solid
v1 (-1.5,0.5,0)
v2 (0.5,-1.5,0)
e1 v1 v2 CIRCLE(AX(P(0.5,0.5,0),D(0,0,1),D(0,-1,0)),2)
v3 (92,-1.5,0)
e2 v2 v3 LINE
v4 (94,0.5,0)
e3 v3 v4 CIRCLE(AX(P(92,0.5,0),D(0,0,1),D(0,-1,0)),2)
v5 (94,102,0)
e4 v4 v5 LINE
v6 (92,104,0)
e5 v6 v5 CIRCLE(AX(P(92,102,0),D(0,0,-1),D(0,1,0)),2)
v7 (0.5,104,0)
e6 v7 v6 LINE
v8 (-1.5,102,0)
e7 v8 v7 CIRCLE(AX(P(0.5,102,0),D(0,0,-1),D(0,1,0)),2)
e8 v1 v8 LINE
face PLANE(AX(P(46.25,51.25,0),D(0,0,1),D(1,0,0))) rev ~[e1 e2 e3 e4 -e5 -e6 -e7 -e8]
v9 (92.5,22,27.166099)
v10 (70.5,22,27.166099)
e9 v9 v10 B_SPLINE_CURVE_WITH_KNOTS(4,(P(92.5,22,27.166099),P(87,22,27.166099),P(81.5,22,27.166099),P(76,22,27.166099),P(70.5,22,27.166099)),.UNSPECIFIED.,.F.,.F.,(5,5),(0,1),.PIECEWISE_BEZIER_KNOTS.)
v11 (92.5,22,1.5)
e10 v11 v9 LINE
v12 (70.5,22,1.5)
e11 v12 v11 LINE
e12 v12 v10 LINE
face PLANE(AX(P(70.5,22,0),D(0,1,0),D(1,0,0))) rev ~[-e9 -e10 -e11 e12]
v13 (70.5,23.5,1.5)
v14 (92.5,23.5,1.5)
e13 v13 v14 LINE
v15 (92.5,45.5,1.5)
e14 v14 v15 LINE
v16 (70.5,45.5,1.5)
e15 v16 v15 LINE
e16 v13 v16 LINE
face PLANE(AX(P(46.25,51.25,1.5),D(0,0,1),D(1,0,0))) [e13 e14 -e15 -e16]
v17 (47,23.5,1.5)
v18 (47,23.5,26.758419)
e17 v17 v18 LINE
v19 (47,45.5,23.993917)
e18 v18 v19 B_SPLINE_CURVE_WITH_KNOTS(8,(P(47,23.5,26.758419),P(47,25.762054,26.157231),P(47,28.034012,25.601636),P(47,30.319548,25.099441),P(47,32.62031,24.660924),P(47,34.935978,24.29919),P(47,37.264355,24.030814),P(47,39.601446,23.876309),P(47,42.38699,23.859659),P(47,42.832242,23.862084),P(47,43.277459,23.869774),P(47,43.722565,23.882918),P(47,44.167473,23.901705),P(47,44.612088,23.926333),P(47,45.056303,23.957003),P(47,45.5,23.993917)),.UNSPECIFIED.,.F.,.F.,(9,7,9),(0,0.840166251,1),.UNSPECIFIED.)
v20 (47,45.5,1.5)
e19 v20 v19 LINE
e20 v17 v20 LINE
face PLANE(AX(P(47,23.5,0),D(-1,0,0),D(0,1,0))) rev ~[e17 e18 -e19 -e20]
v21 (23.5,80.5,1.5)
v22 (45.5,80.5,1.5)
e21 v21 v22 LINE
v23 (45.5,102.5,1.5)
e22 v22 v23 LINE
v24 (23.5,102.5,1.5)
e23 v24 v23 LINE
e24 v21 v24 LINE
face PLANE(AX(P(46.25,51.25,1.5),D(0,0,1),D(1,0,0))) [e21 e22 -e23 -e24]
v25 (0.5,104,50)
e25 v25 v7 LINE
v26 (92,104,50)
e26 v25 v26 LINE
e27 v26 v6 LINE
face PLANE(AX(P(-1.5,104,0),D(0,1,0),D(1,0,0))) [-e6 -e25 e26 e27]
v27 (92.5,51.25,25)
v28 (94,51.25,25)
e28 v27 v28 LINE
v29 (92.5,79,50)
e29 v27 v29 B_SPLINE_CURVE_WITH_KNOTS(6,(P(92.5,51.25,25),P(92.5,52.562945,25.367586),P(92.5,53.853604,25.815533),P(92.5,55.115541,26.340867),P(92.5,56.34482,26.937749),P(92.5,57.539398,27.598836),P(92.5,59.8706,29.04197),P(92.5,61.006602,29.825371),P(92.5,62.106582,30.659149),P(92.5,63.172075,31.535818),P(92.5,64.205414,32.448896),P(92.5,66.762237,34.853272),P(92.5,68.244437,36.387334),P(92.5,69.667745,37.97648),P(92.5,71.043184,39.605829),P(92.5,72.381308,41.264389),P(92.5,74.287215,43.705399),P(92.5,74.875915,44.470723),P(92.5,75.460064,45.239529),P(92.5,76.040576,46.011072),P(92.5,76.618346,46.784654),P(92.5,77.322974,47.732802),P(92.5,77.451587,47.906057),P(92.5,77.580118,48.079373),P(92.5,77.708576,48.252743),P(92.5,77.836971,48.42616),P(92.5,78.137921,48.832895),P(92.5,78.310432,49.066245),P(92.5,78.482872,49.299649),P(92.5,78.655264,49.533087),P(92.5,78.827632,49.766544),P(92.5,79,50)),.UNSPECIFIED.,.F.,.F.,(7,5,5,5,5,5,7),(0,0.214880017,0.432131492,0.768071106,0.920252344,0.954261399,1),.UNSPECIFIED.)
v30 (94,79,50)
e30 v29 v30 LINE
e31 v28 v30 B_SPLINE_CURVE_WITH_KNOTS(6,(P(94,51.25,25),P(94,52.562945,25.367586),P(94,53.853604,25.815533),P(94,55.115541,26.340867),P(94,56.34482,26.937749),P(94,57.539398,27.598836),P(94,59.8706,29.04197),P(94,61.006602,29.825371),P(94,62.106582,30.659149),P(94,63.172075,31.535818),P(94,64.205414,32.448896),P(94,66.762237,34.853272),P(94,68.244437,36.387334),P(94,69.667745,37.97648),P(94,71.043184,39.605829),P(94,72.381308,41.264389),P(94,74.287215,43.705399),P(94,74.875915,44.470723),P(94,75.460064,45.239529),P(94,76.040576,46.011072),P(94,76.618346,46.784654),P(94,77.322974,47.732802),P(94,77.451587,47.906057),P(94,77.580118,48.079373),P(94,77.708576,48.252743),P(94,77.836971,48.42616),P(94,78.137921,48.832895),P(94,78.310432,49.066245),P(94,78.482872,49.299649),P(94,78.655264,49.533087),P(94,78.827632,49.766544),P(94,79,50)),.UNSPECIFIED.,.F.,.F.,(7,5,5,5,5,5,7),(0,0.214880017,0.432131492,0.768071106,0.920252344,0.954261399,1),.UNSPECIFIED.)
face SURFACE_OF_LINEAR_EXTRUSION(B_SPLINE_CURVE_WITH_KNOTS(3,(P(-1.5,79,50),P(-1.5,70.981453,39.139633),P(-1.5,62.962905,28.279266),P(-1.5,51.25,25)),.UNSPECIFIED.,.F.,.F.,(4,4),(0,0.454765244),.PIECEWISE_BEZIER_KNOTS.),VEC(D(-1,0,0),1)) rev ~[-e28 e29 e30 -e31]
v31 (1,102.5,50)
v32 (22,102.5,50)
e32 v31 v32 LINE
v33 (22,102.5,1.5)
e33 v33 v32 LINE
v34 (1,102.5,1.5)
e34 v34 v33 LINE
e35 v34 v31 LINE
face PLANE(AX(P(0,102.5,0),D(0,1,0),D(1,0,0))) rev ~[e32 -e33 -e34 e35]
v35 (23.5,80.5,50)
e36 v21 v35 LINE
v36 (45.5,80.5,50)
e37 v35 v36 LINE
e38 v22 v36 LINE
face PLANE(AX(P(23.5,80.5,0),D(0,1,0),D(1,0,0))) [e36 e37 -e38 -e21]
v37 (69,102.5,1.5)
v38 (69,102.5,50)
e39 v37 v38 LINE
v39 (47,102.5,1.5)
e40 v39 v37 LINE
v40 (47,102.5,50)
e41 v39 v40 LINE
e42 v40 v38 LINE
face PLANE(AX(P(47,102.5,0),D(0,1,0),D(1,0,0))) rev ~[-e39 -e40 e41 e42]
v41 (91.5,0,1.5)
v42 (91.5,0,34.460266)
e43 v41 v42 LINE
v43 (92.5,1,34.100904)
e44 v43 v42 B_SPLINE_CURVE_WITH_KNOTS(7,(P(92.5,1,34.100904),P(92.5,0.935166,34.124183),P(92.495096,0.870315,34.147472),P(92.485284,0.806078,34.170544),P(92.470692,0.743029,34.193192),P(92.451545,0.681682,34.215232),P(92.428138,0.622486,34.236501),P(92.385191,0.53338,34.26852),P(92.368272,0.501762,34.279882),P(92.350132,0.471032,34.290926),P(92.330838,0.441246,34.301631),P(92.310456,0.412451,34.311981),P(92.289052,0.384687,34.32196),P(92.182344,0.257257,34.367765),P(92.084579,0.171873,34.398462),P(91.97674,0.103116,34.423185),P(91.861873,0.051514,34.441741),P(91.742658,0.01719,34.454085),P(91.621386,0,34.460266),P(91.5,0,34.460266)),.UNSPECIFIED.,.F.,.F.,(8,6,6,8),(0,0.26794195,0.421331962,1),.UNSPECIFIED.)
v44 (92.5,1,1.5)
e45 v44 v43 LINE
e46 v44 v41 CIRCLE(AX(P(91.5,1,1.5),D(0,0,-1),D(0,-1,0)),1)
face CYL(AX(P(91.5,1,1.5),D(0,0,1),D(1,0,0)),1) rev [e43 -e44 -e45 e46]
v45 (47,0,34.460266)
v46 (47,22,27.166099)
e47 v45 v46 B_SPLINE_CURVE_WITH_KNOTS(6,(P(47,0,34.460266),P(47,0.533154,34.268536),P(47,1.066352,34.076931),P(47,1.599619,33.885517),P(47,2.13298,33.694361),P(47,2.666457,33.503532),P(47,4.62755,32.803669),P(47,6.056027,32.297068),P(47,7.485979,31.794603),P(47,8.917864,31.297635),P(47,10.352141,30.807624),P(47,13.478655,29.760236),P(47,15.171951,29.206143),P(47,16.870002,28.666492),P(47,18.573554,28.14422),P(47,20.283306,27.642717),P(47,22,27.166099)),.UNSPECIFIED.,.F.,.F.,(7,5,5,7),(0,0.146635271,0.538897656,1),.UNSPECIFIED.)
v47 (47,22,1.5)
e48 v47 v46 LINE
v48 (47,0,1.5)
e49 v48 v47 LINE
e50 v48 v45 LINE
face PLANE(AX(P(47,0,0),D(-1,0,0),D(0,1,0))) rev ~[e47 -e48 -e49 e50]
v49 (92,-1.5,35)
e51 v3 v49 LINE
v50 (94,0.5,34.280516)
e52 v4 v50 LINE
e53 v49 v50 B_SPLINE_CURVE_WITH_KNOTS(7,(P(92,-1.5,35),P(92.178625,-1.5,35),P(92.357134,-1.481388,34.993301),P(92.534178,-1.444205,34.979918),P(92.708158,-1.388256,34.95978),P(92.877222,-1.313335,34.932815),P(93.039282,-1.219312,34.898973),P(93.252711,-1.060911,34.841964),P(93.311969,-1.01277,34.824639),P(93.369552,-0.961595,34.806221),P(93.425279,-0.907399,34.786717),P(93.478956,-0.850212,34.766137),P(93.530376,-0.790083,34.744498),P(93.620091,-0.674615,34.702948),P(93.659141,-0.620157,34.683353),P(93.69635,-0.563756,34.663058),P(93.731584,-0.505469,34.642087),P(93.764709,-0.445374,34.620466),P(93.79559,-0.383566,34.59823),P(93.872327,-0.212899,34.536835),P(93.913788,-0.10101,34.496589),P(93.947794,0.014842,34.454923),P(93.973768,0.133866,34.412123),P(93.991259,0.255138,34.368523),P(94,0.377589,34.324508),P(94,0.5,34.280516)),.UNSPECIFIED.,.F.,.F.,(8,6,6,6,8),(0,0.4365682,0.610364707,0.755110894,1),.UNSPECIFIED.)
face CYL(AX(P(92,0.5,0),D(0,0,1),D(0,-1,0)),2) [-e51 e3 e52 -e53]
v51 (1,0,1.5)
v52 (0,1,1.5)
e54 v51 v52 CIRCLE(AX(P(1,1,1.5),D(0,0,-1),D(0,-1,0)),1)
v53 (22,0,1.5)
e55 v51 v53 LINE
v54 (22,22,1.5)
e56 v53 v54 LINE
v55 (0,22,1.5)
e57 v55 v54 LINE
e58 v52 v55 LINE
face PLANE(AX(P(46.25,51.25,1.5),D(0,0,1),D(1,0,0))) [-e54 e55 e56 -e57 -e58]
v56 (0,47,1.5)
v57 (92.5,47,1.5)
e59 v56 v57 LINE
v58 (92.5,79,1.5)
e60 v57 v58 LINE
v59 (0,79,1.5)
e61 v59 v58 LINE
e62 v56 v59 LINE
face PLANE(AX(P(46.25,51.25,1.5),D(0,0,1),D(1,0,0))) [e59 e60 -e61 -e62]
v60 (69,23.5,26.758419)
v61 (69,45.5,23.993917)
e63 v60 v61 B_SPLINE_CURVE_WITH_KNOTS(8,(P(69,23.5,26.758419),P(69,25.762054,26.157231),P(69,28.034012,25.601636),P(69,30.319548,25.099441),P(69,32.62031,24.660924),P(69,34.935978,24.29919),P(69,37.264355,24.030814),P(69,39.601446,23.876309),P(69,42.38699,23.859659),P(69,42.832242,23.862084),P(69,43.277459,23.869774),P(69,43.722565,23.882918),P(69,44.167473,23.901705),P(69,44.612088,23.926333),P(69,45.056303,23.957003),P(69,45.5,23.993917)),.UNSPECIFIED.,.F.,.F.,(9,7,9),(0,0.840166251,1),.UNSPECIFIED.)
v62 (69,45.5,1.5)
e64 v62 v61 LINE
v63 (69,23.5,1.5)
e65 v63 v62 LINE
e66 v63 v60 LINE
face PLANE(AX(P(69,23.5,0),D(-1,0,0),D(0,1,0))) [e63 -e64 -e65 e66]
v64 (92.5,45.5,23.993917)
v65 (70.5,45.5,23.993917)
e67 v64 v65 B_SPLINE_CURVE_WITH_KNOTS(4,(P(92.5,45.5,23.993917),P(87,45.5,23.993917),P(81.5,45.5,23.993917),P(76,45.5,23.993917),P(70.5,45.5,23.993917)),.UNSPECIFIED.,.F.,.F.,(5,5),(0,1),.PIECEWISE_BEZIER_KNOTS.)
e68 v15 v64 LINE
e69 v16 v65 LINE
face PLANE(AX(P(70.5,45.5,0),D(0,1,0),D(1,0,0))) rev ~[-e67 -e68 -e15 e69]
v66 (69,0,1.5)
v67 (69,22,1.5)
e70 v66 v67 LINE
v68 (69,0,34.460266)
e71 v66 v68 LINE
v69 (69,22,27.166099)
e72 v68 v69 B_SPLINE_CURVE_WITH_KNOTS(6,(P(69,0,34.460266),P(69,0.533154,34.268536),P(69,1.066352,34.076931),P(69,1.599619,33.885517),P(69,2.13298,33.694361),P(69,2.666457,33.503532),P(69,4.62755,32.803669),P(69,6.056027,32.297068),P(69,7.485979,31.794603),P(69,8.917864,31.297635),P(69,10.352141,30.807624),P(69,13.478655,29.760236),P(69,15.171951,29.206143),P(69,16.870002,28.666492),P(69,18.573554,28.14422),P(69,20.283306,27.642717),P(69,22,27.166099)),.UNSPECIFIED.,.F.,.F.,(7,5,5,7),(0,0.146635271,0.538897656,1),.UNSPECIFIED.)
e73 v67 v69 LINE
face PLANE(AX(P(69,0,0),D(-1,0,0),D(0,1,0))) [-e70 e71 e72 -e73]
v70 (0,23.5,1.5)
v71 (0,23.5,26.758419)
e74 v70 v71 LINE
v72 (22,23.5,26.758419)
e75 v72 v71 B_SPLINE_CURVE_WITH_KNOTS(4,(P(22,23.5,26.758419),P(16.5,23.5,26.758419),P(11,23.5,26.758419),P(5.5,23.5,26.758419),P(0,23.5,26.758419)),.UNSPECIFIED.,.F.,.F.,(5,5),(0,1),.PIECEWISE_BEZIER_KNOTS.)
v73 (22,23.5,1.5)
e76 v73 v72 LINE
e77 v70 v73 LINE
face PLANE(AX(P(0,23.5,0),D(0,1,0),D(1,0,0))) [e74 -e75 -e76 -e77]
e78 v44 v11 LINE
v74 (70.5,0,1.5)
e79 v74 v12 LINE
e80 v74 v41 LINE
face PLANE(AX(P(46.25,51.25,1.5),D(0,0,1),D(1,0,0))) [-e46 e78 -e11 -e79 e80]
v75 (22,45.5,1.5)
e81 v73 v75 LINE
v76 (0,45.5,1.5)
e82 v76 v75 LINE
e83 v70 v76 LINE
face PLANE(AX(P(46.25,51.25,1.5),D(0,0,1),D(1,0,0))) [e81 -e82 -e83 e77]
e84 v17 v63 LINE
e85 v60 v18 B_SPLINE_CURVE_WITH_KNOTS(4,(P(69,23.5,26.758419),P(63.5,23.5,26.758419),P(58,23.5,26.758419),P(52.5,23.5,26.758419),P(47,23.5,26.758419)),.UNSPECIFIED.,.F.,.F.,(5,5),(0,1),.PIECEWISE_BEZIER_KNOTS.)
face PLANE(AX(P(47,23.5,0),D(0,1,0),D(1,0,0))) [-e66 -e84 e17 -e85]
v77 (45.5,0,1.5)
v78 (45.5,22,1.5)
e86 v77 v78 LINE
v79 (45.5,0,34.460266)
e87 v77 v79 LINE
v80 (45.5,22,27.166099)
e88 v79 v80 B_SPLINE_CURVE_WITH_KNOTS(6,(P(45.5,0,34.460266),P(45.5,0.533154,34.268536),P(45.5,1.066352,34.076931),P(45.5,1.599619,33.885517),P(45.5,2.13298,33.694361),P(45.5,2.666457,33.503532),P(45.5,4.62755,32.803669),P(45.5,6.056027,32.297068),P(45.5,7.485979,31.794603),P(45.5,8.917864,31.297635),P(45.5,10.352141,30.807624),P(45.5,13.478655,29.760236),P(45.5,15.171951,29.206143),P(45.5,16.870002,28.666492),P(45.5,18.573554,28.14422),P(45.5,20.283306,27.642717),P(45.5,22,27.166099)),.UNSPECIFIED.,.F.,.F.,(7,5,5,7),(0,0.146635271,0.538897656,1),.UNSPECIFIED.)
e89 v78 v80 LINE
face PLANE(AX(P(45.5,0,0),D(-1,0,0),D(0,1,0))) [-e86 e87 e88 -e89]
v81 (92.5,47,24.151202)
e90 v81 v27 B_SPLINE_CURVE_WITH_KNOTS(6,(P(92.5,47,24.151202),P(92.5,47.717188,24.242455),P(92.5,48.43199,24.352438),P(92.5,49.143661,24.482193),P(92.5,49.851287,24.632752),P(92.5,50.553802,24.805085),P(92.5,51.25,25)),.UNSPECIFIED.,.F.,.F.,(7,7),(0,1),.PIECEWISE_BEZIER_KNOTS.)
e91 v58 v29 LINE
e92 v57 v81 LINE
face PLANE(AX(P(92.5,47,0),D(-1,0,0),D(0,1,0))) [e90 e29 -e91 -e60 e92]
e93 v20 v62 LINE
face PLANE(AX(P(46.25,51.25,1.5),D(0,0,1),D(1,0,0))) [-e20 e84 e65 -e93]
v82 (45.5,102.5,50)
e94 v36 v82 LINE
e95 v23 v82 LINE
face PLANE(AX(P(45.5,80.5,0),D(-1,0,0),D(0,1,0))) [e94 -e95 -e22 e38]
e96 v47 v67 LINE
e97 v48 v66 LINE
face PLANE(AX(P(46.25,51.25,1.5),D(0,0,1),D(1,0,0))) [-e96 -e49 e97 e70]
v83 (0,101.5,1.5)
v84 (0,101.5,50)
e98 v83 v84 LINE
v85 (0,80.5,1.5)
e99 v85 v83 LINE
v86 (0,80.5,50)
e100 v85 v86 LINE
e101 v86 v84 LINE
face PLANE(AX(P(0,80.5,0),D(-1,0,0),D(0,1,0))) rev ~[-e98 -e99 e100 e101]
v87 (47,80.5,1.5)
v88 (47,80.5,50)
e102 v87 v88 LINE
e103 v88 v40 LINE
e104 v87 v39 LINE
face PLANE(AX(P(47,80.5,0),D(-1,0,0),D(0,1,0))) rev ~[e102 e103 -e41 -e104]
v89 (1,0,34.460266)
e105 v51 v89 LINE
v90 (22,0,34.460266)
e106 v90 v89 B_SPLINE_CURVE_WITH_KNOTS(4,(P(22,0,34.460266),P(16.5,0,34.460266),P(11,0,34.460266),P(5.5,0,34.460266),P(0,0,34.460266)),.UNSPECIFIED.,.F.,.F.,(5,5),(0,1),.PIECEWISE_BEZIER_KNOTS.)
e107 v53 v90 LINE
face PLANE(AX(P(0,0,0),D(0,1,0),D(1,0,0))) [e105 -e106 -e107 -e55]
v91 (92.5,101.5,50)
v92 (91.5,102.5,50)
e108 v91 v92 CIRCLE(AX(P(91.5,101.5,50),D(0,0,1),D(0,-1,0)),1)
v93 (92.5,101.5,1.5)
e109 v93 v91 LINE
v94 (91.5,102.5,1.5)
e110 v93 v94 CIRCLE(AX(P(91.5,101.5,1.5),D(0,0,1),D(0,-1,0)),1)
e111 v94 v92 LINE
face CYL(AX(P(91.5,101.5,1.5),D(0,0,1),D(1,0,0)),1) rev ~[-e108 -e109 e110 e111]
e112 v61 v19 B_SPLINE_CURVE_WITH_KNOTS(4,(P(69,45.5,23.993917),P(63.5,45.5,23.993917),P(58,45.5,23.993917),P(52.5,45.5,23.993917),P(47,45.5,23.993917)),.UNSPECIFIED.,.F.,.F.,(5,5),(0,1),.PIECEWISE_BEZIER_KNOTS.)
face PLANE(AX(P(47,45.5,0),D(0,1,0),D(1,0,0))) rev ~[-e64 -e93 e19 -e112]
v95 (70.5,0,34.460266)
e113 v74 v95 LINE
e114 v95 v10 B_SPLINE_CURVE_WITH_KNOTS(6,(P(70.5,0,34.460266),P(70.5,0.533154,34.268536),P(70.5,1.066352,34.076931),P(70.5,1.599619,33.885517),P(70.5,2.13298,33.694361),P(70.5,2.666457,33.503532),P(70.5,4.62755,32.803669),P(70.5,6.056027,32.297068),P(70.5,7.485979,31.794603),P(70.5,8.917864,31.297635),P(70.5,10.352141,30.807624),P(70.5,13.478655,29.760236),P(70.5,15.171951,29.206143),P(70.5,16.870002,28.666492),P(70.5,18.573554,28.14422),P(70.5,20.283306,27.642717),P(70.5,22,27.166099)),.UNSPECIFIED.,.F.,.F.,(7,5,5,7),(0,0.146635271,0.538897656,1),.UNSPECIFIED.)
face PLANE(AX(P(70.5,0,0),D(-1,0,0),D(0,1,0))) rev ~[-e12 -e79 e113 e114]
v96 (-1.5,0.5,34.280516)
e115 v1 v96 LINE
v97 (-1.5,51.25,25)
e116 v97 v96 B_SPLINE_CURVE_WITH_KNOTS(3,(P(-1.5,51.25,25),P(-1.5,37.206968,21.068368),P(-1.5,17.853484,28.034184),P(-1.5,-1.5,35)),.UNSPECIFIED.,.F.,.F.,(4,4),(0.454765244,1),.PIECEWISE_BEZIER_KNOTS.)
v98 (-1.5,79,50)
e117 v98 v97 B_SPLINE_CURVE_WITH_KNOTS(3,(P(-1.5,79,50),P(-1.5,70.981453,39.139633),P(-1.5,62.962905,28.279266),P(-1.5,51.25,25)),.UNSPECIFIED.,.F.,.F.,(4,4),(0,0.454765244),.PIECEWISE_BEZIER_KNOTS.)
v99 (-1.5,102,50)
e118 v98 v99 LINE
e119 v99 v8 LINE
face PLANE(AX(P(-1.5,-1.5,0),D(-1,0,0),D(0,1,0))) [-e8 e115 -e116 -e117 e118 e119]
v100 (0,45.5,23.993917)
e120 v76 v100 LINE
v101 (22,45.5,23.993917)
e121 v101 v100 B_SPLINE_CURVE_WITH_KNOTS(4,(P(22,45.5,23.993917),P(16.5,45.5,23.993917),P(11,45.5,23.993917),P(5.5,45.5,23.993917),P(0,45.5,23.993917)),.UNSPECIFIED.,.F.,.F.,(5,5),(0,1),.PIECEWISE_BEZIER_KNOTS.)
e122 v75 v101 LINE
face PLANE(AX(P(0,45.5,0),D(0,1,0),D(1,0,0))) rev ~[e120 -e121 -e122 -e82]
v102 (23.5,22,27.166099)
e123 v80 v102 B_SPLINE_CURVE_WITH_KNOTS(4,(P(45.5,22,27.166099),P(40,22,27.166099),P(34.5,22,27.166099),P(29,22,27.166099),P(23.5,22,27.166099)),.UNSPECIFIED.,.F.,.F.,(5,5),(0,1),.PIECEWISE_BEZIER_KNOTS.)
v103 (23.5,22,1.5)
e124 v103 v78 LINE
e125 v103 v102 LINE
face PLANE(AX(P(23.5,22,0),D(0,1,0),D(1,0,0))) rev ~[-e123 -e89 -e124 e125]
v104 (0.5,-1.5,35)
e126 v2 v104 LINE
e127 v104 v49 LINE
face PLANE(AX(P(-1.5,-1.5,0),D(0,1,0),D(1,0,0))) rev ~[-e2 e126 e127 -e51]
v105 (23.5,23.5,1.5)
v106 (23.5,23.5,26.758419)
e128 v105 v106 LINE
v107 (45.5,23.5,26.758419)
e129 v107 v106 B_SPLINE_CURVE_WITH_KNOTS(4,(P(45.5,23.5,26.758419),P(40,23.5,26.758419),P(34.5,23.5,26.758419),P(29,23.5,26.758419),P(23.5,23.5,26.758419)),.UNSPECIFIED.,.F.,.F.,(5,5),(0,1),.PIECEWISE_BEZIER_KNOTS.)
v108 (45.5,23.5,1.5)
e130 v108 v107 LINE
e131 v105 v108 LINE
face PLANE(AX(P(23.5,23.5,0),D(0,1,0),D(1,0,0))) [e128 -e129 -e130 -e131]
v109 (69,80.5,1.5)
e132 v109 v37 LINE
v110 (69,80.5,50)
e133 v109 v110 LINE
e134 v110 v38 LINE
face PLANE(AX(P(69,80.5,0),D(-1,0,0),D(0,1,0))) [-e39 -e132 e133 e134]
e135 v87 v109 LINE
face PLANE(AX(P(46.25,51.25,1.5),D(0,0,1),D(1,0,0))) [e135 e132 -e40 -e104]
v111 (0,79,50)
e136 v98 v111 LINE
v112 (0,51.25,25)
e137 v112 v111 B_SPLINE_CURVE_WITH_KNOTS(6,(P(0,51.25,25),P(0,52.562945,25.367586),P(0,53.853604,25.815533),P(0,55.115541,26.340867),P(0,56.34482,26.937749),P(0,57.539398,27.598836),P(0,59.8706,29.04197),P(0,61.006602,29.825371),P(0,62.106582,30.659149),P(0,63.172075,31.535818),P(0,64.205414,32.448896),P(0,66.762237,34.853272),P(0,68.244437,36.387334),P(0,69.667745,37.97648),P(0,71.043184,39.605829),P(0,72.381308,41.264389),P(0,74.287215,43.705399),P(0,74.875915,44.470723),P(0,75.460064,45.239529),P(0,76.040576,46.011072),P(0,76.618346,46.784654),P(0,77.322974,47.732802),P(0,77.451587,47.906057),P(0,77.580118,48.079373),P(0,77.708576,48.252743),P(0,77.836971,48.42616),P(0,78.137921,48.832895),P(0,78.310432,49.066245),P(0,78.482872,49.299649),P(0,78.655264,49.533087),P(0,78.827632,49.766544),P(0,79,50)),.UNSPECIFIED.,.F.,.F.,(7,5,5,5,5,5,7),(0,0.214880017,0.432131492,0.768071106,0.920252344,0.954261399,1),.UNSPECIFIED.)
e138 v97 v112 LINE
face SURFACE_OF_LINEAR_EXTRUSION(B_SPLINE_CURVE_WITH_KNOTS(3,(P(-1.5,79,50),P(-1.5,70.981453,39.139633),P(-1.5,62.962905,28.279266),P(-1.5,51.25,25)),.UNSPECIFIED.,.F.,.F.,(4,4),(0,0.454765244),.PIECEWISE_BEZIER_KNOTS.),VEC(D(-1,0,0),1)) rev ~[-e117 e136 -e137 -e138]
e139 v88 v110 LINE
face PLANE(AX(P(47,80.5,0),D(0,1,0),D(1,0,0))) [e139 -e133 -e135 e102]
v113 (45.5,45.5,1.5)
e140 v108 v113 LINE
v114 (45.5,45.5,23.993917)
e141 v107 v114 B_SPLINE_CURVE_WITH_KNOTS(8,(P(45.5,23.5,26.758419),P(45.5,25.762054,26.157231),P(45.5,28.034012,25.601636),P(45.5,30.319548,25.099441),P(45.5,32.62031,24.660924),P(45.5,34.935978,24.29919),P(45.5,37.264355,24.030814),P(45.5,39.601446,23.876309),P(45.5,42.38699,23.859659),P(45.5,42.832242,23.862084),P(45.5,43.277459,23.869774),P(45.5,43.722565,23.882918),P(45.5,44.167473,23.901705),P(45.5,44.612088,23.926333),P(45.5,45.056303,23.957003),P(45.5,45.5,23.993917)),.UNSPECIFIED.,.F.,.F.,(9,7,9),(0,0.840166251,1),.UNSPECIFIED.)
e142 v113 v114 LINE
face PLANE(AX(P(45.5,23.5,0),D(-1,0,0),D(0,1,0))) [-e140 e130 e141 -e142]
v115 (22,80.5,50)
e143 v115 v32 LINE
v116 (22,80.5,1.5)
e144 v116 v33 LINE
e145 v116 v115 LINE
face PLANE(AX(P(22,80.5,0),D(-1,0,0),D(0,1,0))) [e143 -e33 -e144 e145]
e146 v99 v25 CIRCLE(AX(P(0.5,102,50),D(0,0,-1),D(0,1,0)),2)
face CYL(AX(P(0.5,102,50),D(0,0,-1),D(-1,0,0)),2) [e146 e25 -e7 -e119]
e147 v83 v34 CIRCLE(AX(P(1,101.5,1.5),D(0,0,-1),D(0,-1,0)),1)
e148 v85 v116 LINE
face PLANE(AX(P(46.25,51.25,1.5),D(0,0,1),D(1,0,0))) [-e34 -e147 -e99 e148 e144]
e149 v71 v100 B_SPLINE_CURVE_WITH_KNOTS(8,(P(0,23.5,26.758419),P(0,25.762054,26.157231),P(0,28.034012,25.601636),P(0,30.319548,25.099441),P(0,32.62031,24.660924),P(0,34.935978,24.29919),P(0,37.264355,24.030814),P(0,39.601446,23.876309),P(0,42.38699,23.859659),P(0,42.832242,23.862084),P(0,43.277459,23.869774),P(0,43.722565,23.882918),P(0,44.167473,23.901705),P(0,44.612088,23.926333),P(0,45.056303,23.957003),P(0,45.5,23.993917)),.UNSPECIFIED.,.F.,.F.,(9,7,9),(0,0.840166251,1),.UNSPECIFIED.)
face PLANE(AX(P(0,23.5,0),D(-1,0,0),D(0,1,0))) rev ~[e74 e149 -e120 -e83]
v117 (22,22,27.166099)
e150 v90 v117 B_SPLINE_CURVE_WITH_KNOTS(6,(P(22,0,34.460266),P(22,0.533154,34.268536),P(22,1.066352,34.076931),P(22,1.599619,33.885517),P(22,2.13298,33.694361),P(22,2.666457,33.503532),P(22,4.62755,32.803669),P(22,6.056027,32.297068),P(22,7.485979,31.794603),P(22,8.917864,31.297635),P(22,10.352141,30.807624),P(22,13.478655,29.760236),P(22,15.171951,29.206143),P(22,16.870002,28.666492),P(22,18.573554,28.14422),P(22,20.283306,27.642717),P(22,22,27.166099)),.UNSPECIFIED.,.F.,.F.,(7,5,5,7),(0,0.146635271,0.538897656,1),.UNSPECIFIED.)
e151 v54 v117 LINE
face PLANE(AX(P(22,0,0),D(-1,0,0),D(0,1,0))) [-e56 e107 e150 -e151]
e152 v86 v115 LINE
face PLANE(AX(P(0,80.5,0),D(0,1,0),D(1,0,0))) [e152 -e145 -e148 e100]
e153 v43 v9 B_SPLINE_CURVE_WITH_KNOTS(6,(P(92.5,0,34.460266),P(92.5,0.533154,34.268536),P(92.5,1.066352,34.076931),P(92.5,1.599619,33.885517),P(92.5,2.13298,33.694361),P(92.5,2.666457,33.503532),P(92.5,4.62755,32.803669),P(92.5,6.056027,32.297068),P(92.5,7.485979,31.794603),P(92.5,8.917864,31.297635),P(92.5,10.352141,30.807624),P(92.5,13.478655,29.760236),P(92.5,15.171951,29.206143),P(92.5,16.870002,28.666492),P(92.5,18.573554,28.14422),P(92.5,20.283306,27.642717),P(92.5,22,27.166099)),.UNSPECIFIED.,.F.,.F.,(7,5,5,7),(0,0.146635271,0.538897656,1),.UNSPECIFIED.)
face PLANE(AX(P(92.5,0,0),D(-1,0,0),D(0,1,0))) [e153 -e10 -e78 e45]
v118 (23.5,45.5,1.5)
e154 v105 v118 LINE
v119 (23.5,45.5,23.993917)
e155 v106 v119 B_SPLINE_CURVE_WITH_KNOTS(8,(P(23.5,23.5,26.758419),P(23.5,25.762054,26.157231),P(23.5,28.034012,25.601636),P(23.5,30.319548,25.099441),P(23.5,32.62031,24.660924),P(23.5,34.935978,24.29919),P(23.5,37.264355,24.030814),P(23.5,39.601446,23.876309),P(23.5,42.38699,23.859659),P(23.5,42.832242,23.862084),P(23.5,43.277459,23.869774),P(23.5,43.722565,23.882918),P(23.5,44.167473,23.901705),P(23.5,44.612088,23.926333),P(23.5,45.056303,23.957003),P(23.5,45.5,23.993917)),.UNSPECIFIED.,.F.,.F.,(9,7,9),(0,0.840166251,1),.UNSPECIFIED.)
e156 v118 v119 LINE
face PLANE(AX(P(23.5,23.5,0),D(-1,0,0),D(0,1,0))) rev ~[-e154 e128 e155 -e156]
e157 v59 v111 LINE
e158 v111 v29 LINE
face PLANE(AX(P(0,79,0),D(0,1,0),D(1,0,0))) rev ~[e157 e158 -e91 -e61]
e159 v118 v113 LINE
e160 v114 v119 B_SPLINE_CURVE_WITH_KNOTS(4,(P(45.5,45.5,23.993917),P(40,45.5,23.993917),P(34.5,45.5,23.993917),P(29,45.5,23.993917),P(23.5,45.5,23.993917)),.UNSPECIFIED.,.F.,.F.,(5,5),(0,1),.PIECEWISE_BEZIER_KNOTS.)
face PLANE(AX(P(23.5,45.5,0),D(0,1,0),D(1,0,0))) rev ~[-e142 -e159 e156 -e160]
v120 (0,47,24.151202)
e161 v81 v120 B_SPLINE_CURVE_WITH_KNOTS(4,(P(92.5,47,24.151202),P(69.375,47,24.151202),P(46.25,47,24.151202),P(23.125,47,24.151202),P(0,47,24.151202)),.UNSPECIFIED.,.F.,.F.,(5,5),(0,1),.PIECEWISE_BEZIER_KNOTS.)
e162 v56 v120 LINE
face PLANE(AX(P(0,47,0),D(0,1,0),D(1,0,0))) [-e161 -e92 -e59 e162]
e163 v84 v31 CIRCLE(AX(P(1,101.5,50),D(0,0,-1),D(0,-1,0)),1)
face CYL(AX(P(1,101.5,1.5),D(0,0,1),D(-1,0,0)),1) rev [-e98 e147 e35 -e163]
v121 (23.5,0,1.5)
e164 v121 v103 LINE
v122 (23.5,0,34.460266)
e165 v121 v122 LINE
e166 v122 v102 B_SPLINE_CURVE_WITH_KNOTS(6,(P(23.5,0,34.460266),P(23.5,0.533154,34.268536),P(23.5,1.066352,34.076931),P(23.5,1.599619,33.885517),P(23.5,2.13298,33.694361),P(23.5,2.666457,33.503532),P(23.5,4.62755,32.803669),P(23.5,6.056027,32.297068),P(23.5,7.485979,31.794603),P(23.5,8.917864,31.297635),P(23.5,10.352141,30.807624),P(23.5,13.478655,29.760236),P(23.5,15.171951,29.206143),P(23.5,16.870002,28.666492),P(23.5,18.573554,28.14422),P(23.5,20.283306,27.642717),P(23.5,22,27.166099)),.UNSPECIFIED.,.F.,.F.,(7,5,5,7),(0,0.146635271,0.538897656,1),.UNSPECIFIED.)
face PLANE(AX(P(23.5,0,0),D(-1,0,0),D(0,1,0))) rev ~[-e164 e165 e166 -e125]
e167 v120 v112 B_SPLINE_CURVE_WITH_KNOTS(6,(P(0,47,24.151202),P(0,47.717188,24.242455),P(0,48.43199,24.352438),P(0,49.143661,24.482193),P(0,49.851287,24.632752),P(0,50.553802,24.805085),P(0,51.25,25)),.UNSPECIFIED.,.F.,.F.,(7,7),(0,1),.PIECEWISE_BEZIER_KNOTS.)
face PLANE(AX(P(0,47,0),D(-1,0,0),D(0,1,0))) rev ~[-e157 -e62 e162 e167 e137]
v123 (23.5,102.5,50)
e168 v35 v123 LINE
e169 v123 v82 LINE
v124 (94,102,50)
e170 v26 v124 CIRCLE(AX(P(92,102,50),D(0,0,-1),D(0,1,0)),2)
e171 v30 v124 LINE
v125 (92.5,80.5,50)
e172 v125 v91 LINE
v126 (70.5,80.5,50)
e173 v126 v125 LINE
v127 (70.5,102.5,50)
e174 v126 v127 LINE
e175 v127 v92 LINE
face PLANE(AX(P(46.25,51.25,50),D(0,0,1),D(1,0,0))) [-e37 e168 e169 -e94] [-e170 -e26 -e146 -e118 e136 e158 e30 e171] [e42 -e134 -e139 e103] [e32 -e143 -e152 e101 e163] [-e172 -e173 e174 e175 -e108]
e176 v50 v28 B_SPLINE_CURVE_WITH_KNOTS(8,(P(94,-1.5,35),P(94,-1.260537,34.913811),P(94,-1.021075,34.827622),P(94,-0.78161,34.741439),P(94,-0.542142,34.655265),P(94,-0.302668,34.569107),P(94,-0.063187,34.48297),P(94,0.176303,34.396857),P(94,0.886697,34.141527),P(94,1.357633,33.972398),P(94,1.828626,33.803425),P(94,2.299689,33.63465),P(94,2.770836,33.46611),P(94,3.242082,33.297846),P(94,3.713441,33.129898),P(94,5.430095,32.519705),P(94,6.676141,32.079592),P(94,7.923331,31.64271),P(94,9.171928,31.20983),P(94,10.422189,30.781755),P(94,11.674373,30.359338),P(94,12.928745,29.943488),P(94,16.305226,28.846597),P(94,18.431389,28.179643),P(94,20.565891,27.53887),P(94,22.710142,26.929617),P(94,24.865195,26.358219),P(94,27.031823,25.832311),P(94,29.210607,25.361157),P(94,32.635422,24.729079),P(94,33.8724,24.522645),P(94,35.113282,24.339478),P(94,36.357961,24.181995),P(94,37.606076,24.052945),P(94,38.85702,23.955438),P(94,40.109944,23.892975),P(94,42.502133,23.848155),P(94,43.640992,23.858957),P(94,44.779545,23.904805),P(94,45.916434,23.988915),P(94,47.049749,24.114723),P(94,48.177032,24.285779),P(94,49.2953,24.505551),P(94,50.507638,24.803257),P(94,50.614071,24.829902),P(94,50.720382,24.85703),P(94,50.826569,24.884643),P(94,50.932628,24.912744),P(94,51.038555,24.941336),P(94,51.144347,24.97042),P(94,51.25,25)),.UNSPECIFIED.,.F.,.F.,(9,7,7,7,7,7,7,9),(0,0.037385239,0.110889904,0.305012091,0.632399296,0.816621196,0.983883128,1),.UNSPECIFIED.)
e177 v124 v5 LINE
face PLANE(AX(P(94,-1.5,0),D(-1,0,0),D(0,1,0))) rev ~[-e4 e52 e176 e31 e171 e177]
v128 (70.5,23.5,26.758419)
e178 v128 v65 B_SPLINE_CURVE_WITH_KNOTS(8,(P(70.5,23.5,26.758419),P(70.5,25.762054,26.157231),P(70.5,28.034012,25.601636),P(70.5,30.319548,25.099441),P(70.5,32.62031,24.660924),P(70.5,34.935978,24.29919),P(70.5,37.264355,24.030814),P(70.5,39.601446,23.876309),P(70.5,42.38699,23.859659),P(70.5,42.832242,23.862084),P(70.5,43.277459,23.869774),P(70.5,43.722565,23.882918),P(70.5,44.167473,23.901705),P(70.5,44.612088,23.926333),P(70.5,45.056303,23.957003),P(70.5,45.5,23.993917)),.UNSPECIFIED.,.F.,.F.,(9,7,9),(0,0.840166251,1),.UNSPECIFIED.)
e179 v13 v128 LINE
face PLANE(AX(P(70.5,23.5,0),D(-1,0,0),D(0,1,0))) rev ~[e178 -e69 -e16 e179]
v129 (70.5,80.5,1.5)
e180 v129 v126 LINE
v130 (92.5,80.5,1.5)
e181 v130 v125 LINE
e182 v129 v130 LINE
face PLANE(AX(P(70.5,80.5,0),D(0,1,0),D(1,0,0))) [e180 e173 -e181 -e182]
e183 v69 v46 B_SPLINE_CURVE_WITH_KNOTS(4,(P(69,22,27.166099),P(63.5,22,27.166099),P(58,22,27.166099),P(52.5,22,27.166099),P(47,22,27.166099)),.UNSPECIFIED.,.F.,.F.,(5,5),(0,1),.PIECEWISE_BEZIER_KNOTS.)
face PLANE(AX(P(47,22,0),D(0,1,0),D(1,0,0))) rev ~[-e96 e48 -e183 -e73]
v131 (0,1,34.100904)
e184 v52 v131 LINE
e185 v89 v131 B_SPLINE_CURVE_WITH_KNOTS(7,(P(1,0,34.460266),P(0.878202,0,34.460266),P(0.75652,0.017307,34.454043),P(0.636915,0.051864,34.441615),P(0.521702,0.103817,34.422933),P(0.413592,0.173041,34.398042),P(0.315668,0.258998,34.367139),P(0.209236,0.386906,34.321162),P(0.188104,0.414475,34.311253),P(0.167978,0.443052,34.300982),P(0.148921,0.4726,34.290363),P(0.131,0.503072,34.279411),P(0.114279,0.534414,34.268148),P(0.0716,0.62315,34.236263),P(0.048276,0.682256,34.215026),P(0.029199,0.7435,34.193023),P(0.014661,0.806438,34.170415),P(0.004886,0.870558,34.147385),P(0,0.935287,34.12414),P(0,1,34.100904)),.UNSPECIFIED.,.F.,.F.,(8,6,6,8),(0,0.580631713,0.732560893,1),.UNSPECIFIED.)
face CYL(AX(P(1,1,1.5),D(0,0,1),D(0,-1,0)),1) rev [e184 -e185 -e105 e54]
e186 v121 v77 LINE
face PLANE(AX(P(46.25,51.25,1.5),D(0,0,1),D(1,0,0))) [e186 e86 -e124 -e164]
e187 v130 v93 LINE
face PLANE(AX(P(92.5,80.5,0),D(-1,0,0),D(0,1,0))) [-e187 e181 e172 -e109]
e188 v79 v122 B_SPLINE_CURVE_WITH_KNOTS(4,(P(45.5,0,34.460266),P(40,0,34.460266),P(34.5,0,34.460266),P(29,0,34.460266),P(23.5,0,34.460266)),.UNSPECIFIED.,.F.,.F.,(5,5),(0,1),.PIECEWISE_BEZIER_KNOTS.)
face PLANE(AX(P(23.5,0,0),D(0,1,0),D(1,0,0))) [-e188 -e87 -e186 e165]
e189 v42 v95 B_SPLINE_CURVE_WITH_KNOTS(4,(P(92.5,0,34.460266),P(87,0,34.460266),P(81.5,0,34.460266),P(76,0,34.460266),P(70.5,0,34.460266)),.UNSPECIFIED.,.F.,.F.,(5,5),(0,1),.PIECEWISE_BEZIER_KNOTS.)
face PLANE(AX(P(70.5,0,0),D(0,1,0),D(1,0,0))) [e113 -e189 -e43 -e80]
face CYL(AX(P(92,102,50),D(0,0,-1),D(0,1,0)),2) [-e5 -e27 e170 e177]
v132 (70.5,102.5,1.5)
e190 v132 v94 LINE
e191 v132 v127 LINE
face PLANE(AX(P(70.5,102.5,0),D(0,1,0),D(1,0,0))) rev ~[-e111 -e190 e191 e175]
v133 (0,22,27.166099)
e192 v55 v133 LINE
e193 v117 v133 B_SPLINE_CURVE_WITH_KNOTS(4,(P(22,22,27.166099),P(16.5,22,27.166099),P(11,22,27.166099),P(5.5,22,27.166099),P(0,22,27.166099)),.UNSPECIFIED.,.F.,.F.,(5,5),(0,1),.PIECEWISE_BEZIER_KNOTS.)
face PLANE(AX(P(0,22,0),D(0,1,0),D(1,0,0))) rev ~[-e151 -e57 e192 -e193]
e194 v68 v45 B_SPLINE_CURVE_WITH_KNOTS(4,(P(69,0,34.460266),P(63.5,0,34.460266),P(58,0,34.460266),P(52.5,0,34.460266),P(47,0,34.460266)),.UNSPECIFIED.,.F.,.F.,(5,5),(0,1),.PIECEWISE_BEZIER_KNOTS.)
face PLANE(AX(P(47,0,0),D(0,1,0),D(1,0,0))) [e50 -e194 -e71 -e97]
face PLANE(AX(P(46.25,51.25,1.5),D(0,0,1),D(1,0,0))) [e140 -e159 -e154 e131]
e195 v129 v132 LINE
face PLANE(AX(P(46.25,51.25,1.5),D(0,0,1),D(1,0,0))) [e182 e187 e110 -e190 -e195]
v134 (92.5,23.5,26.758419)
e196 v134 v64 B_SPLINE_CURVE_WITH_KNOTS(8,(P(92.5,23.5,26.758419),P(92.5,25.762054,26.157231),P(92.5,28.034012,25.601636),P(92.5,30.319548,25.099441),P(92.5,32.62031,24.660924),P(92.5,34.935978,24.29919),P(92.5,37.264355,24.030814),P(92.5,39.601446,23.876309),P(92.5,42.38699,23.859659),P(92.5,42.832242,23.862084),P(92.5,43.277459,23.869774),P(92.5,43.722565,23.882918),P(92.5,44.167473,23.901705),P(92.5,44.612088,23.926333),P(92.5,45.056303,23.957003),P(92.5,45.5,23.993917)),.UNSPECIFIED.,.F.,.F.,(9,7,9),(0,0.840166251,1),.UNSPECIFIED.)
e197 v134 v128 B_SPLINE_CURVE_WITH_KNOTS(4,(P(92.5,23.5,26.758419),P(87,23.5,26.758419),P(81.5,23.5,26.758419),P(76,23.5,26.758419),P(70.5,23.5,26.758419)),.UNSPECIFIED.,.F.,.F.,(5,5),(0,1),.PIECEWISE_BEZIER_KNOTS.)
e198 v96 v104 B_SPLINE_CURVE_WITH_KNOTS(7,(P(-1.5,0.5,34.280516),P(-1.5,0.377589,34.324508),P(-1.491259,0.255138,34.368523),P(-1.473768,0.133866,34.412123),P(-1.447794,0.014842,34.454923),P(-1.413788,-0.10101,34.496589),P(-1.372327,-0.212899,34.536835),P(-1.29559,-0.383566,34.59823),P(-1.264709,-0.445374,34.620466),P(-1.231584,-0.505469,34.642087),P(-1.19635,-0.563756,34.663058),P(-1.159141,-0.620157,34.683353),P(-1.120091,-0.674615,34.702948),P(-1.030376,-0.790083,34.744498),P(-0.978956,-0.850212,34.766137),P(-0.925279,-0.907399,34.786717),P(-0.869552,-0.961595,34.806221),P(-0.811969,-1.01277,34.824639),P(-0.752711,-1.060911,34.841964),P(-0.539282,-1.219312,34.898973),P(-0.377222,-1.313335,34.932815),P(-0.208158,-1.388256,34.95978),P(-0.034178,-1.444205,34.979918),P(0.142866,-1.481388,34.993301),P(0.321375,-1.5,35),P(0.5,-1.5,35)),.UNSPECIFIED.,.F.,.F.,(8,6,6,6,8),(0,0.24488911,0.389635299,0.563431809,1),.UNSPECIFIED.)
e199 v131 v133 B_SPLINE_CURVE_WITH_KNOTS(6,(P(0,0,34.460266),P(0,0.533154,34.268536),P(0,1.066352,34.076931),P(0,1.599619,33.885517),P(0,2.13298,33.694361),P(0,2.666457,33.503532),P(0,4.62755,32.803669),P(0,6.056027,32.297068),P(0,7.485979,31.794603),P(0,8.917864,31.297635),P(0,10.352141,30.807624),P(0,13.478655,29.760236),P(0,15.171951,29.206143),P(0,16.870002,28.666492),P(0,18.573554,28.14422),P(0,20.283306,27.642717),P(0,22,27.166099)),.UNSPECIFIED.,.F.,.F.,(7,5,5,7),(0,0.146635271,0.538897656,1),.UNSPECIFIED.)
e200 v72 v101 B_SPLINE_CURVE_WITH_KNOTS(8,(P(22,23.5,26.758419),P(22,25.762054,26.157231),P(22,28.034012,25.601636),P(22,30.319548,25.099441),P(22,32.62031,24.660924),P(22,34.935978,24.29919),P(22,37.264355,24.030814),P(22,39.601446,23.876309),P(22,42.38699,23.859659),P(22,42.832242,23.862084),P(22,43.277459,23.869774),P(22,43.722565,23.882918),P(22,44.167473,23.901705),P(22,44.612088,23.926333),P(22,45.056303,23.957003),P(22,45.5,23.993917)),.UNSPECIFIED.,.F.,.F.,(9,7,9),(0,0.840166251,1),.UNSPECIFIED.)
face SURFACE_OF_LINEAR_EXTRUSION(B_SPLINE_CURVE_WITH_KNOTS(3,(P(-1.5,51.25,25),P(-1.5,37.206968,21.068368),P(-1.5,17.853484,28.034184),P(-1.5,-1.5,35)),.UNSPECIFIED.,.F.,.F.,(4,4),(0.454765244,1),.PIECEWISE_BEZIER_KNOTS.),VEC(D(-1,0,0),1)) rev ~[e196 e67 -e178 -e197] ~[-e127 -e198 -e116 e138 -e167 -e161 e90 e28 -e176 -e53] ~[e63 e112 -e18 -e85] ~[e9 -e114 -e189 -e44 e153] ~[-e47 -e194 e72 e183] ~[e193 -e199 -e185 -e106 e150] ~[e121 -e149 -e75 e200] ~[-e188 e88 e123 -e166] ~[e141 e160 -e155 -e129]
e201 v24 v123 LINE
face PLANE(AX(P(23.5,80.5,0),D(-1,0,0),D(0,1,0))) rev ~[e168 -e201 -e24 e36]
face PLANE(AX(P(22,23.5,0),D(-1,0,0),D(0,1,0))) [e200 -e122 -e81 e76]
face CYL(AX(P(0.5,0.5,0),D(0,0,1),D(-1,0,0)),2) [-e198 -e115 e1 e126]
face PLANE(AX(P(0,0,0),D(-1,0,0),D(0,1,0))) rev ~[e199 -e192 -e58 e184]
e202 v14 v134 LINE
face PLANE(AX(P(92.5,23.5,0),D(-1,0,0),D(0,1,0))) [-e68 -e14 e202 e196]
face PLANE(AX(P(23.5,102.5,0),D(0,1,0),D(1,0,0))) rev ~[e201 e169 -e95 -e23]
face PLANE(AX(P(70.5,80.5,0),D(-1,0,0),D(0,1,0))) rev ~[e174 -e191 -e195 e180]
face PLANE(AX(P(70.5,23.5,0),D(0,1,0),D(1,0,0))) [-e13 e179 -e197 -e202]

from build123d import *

# Parameters (mm, degrees)
F0_W     = 95.5
F0_H     = 105.5
F0_W_2   = 22
F0_H_2   = 22
F0_W_3   = 92.5
F0_H_3   = 32
F1_DEPTH = 50
F2_W     = 95.5
F2_H     = 105.5
F3_DEPTH = 1.5
F5_DEPTH = 100
F6_R     = 2
F7_R     = 1


with BuildPart() as f1:
    # F0 (on Top) → F1 (new body)
    with BuildSketch(Plane.XY):
        with Locations((46.25, 51.25)):
            Rectangle(F0_W, F0_H)
        with Locations((11, 11)):
            Rectangle(F0_W_2, F0_H_2, mode=Mode.SUBTRACT)
        with Locations((34.5, 11)):
            Rectangle(F0_W_2, F0_H_2, mode=Mode.SUBTRACT)
        with Locations((11, 34.5)):
            Rectangle(F0_W_2, F0_H_2, mode=Mode.SUBTRACT)
        with Locations((34.5, 34.5)):
            Rectangle(F0_W_2, F0_H_2, mode=Mode.SUBTRACT)
        with Locations((58, 11)):
            Rectangle(F0_W_2, F0_H_2, mode=Mode.SUBTRACT)
        with Locations((81.5, 11)):
            Rectangle(F0_W_2, F0_H_2, mode=Mode.SUBTRACT)
        with Locations((58, 34.5)):
            Rectangle(F0_W_2, F0_H_2, mode=Mode.SUBTRACT)
        with Locations((81.5, 34.5)):
            Rectangle(F0_W_2, F0_H_2, mode=Mode.SUBTRACT)
        with Locations((11, 91.5)):
            Rectangle(F0_W_2, F0_H_2, mode=Mode.SUBTRACT)
        with Locations((34.5, 91.5)):
            Rectangle(F0_W_2, F0_H_2, mode=Mode.SUBTRACT)
        with Locations((46.25, 63)):
            Rectangle(F0_W_3, F0_H_3, mode=Mode.SUBTRACT)
        with Locations((58, 91.5)):
            Rectangle(F0_W_2, F0_H_2, mode=Mode.SUBTRACT)
        with Locations((81.5, 91.5)):
            Rectangle(F0_W_2, F0_H_2, mode=Mode.SUBTRACT)
    extrude(amount=F1_DEPTH)

    # F2 (on Top) → F3 (join)
    with BuildSketch(Plane.XY):
        with Locations((46.25, 51.25)):
            Rectangle(F2_W, F2_H)
    extrude(amount=F3_DEPTH)

    # F4 (on face) → F5 (cut)
    with BuildSketch(Plane(origin=(-1.5, 0, 0), x_dir=(0, -1, 0), z_dir=(-1, 0, 0))):
        with BuildLine():
            Line((1.5, 50), (-79, 50))
            add(Edge.make_bspline(
                [(-79, 50), (-70.9814525391, 39.139632946), (-62.9629050781, 28.2792658921), (-51.25, 25)],
                knots=[0, 0, 0, 0, 0.4547652437, 0.4547652437, 0.4547652437, 0.4547652437], degree=3))
            add(Edge.make_bspline(
                [(-51.25, 25), (-37.2069678319, 21.0683676592), (-17.853483916, 28.0341838296), (1.5, 35)],
                knots=[0.4547652437, 0.4547652437, 0.4547652437, 0.4547652437, 1, 1, 1, 1], degree=3))
            Line((1.5, 35), (1.5, 50))
        make_face()
    extrude(amount=-F5_DEPTH, mode=Mode.SUBTRACT)

    # F6
    f6_edges = [f1.edges().sort_by_distance(p)[0] for p in [
        (94, -1.5, 17.5),
        (94, 104, 25),
        (-1.5, -1.5, 17.5),
        (-1.5, 104, 25),
    ]]
    fillet(f6_edges, radius=F6_R)

    # F7
    f7_edges = [f1.edges().sort_by_distance(p)[0] for p in [
        (0, 0, 17.980133),
        (92.5, 0, 17.980133),
        (92.5, 102.5, 25.75),
        (0, 102.5, 25.75),
    ]]
    fillet(f7_edges, radius=F7_R)


solid = f1.part
